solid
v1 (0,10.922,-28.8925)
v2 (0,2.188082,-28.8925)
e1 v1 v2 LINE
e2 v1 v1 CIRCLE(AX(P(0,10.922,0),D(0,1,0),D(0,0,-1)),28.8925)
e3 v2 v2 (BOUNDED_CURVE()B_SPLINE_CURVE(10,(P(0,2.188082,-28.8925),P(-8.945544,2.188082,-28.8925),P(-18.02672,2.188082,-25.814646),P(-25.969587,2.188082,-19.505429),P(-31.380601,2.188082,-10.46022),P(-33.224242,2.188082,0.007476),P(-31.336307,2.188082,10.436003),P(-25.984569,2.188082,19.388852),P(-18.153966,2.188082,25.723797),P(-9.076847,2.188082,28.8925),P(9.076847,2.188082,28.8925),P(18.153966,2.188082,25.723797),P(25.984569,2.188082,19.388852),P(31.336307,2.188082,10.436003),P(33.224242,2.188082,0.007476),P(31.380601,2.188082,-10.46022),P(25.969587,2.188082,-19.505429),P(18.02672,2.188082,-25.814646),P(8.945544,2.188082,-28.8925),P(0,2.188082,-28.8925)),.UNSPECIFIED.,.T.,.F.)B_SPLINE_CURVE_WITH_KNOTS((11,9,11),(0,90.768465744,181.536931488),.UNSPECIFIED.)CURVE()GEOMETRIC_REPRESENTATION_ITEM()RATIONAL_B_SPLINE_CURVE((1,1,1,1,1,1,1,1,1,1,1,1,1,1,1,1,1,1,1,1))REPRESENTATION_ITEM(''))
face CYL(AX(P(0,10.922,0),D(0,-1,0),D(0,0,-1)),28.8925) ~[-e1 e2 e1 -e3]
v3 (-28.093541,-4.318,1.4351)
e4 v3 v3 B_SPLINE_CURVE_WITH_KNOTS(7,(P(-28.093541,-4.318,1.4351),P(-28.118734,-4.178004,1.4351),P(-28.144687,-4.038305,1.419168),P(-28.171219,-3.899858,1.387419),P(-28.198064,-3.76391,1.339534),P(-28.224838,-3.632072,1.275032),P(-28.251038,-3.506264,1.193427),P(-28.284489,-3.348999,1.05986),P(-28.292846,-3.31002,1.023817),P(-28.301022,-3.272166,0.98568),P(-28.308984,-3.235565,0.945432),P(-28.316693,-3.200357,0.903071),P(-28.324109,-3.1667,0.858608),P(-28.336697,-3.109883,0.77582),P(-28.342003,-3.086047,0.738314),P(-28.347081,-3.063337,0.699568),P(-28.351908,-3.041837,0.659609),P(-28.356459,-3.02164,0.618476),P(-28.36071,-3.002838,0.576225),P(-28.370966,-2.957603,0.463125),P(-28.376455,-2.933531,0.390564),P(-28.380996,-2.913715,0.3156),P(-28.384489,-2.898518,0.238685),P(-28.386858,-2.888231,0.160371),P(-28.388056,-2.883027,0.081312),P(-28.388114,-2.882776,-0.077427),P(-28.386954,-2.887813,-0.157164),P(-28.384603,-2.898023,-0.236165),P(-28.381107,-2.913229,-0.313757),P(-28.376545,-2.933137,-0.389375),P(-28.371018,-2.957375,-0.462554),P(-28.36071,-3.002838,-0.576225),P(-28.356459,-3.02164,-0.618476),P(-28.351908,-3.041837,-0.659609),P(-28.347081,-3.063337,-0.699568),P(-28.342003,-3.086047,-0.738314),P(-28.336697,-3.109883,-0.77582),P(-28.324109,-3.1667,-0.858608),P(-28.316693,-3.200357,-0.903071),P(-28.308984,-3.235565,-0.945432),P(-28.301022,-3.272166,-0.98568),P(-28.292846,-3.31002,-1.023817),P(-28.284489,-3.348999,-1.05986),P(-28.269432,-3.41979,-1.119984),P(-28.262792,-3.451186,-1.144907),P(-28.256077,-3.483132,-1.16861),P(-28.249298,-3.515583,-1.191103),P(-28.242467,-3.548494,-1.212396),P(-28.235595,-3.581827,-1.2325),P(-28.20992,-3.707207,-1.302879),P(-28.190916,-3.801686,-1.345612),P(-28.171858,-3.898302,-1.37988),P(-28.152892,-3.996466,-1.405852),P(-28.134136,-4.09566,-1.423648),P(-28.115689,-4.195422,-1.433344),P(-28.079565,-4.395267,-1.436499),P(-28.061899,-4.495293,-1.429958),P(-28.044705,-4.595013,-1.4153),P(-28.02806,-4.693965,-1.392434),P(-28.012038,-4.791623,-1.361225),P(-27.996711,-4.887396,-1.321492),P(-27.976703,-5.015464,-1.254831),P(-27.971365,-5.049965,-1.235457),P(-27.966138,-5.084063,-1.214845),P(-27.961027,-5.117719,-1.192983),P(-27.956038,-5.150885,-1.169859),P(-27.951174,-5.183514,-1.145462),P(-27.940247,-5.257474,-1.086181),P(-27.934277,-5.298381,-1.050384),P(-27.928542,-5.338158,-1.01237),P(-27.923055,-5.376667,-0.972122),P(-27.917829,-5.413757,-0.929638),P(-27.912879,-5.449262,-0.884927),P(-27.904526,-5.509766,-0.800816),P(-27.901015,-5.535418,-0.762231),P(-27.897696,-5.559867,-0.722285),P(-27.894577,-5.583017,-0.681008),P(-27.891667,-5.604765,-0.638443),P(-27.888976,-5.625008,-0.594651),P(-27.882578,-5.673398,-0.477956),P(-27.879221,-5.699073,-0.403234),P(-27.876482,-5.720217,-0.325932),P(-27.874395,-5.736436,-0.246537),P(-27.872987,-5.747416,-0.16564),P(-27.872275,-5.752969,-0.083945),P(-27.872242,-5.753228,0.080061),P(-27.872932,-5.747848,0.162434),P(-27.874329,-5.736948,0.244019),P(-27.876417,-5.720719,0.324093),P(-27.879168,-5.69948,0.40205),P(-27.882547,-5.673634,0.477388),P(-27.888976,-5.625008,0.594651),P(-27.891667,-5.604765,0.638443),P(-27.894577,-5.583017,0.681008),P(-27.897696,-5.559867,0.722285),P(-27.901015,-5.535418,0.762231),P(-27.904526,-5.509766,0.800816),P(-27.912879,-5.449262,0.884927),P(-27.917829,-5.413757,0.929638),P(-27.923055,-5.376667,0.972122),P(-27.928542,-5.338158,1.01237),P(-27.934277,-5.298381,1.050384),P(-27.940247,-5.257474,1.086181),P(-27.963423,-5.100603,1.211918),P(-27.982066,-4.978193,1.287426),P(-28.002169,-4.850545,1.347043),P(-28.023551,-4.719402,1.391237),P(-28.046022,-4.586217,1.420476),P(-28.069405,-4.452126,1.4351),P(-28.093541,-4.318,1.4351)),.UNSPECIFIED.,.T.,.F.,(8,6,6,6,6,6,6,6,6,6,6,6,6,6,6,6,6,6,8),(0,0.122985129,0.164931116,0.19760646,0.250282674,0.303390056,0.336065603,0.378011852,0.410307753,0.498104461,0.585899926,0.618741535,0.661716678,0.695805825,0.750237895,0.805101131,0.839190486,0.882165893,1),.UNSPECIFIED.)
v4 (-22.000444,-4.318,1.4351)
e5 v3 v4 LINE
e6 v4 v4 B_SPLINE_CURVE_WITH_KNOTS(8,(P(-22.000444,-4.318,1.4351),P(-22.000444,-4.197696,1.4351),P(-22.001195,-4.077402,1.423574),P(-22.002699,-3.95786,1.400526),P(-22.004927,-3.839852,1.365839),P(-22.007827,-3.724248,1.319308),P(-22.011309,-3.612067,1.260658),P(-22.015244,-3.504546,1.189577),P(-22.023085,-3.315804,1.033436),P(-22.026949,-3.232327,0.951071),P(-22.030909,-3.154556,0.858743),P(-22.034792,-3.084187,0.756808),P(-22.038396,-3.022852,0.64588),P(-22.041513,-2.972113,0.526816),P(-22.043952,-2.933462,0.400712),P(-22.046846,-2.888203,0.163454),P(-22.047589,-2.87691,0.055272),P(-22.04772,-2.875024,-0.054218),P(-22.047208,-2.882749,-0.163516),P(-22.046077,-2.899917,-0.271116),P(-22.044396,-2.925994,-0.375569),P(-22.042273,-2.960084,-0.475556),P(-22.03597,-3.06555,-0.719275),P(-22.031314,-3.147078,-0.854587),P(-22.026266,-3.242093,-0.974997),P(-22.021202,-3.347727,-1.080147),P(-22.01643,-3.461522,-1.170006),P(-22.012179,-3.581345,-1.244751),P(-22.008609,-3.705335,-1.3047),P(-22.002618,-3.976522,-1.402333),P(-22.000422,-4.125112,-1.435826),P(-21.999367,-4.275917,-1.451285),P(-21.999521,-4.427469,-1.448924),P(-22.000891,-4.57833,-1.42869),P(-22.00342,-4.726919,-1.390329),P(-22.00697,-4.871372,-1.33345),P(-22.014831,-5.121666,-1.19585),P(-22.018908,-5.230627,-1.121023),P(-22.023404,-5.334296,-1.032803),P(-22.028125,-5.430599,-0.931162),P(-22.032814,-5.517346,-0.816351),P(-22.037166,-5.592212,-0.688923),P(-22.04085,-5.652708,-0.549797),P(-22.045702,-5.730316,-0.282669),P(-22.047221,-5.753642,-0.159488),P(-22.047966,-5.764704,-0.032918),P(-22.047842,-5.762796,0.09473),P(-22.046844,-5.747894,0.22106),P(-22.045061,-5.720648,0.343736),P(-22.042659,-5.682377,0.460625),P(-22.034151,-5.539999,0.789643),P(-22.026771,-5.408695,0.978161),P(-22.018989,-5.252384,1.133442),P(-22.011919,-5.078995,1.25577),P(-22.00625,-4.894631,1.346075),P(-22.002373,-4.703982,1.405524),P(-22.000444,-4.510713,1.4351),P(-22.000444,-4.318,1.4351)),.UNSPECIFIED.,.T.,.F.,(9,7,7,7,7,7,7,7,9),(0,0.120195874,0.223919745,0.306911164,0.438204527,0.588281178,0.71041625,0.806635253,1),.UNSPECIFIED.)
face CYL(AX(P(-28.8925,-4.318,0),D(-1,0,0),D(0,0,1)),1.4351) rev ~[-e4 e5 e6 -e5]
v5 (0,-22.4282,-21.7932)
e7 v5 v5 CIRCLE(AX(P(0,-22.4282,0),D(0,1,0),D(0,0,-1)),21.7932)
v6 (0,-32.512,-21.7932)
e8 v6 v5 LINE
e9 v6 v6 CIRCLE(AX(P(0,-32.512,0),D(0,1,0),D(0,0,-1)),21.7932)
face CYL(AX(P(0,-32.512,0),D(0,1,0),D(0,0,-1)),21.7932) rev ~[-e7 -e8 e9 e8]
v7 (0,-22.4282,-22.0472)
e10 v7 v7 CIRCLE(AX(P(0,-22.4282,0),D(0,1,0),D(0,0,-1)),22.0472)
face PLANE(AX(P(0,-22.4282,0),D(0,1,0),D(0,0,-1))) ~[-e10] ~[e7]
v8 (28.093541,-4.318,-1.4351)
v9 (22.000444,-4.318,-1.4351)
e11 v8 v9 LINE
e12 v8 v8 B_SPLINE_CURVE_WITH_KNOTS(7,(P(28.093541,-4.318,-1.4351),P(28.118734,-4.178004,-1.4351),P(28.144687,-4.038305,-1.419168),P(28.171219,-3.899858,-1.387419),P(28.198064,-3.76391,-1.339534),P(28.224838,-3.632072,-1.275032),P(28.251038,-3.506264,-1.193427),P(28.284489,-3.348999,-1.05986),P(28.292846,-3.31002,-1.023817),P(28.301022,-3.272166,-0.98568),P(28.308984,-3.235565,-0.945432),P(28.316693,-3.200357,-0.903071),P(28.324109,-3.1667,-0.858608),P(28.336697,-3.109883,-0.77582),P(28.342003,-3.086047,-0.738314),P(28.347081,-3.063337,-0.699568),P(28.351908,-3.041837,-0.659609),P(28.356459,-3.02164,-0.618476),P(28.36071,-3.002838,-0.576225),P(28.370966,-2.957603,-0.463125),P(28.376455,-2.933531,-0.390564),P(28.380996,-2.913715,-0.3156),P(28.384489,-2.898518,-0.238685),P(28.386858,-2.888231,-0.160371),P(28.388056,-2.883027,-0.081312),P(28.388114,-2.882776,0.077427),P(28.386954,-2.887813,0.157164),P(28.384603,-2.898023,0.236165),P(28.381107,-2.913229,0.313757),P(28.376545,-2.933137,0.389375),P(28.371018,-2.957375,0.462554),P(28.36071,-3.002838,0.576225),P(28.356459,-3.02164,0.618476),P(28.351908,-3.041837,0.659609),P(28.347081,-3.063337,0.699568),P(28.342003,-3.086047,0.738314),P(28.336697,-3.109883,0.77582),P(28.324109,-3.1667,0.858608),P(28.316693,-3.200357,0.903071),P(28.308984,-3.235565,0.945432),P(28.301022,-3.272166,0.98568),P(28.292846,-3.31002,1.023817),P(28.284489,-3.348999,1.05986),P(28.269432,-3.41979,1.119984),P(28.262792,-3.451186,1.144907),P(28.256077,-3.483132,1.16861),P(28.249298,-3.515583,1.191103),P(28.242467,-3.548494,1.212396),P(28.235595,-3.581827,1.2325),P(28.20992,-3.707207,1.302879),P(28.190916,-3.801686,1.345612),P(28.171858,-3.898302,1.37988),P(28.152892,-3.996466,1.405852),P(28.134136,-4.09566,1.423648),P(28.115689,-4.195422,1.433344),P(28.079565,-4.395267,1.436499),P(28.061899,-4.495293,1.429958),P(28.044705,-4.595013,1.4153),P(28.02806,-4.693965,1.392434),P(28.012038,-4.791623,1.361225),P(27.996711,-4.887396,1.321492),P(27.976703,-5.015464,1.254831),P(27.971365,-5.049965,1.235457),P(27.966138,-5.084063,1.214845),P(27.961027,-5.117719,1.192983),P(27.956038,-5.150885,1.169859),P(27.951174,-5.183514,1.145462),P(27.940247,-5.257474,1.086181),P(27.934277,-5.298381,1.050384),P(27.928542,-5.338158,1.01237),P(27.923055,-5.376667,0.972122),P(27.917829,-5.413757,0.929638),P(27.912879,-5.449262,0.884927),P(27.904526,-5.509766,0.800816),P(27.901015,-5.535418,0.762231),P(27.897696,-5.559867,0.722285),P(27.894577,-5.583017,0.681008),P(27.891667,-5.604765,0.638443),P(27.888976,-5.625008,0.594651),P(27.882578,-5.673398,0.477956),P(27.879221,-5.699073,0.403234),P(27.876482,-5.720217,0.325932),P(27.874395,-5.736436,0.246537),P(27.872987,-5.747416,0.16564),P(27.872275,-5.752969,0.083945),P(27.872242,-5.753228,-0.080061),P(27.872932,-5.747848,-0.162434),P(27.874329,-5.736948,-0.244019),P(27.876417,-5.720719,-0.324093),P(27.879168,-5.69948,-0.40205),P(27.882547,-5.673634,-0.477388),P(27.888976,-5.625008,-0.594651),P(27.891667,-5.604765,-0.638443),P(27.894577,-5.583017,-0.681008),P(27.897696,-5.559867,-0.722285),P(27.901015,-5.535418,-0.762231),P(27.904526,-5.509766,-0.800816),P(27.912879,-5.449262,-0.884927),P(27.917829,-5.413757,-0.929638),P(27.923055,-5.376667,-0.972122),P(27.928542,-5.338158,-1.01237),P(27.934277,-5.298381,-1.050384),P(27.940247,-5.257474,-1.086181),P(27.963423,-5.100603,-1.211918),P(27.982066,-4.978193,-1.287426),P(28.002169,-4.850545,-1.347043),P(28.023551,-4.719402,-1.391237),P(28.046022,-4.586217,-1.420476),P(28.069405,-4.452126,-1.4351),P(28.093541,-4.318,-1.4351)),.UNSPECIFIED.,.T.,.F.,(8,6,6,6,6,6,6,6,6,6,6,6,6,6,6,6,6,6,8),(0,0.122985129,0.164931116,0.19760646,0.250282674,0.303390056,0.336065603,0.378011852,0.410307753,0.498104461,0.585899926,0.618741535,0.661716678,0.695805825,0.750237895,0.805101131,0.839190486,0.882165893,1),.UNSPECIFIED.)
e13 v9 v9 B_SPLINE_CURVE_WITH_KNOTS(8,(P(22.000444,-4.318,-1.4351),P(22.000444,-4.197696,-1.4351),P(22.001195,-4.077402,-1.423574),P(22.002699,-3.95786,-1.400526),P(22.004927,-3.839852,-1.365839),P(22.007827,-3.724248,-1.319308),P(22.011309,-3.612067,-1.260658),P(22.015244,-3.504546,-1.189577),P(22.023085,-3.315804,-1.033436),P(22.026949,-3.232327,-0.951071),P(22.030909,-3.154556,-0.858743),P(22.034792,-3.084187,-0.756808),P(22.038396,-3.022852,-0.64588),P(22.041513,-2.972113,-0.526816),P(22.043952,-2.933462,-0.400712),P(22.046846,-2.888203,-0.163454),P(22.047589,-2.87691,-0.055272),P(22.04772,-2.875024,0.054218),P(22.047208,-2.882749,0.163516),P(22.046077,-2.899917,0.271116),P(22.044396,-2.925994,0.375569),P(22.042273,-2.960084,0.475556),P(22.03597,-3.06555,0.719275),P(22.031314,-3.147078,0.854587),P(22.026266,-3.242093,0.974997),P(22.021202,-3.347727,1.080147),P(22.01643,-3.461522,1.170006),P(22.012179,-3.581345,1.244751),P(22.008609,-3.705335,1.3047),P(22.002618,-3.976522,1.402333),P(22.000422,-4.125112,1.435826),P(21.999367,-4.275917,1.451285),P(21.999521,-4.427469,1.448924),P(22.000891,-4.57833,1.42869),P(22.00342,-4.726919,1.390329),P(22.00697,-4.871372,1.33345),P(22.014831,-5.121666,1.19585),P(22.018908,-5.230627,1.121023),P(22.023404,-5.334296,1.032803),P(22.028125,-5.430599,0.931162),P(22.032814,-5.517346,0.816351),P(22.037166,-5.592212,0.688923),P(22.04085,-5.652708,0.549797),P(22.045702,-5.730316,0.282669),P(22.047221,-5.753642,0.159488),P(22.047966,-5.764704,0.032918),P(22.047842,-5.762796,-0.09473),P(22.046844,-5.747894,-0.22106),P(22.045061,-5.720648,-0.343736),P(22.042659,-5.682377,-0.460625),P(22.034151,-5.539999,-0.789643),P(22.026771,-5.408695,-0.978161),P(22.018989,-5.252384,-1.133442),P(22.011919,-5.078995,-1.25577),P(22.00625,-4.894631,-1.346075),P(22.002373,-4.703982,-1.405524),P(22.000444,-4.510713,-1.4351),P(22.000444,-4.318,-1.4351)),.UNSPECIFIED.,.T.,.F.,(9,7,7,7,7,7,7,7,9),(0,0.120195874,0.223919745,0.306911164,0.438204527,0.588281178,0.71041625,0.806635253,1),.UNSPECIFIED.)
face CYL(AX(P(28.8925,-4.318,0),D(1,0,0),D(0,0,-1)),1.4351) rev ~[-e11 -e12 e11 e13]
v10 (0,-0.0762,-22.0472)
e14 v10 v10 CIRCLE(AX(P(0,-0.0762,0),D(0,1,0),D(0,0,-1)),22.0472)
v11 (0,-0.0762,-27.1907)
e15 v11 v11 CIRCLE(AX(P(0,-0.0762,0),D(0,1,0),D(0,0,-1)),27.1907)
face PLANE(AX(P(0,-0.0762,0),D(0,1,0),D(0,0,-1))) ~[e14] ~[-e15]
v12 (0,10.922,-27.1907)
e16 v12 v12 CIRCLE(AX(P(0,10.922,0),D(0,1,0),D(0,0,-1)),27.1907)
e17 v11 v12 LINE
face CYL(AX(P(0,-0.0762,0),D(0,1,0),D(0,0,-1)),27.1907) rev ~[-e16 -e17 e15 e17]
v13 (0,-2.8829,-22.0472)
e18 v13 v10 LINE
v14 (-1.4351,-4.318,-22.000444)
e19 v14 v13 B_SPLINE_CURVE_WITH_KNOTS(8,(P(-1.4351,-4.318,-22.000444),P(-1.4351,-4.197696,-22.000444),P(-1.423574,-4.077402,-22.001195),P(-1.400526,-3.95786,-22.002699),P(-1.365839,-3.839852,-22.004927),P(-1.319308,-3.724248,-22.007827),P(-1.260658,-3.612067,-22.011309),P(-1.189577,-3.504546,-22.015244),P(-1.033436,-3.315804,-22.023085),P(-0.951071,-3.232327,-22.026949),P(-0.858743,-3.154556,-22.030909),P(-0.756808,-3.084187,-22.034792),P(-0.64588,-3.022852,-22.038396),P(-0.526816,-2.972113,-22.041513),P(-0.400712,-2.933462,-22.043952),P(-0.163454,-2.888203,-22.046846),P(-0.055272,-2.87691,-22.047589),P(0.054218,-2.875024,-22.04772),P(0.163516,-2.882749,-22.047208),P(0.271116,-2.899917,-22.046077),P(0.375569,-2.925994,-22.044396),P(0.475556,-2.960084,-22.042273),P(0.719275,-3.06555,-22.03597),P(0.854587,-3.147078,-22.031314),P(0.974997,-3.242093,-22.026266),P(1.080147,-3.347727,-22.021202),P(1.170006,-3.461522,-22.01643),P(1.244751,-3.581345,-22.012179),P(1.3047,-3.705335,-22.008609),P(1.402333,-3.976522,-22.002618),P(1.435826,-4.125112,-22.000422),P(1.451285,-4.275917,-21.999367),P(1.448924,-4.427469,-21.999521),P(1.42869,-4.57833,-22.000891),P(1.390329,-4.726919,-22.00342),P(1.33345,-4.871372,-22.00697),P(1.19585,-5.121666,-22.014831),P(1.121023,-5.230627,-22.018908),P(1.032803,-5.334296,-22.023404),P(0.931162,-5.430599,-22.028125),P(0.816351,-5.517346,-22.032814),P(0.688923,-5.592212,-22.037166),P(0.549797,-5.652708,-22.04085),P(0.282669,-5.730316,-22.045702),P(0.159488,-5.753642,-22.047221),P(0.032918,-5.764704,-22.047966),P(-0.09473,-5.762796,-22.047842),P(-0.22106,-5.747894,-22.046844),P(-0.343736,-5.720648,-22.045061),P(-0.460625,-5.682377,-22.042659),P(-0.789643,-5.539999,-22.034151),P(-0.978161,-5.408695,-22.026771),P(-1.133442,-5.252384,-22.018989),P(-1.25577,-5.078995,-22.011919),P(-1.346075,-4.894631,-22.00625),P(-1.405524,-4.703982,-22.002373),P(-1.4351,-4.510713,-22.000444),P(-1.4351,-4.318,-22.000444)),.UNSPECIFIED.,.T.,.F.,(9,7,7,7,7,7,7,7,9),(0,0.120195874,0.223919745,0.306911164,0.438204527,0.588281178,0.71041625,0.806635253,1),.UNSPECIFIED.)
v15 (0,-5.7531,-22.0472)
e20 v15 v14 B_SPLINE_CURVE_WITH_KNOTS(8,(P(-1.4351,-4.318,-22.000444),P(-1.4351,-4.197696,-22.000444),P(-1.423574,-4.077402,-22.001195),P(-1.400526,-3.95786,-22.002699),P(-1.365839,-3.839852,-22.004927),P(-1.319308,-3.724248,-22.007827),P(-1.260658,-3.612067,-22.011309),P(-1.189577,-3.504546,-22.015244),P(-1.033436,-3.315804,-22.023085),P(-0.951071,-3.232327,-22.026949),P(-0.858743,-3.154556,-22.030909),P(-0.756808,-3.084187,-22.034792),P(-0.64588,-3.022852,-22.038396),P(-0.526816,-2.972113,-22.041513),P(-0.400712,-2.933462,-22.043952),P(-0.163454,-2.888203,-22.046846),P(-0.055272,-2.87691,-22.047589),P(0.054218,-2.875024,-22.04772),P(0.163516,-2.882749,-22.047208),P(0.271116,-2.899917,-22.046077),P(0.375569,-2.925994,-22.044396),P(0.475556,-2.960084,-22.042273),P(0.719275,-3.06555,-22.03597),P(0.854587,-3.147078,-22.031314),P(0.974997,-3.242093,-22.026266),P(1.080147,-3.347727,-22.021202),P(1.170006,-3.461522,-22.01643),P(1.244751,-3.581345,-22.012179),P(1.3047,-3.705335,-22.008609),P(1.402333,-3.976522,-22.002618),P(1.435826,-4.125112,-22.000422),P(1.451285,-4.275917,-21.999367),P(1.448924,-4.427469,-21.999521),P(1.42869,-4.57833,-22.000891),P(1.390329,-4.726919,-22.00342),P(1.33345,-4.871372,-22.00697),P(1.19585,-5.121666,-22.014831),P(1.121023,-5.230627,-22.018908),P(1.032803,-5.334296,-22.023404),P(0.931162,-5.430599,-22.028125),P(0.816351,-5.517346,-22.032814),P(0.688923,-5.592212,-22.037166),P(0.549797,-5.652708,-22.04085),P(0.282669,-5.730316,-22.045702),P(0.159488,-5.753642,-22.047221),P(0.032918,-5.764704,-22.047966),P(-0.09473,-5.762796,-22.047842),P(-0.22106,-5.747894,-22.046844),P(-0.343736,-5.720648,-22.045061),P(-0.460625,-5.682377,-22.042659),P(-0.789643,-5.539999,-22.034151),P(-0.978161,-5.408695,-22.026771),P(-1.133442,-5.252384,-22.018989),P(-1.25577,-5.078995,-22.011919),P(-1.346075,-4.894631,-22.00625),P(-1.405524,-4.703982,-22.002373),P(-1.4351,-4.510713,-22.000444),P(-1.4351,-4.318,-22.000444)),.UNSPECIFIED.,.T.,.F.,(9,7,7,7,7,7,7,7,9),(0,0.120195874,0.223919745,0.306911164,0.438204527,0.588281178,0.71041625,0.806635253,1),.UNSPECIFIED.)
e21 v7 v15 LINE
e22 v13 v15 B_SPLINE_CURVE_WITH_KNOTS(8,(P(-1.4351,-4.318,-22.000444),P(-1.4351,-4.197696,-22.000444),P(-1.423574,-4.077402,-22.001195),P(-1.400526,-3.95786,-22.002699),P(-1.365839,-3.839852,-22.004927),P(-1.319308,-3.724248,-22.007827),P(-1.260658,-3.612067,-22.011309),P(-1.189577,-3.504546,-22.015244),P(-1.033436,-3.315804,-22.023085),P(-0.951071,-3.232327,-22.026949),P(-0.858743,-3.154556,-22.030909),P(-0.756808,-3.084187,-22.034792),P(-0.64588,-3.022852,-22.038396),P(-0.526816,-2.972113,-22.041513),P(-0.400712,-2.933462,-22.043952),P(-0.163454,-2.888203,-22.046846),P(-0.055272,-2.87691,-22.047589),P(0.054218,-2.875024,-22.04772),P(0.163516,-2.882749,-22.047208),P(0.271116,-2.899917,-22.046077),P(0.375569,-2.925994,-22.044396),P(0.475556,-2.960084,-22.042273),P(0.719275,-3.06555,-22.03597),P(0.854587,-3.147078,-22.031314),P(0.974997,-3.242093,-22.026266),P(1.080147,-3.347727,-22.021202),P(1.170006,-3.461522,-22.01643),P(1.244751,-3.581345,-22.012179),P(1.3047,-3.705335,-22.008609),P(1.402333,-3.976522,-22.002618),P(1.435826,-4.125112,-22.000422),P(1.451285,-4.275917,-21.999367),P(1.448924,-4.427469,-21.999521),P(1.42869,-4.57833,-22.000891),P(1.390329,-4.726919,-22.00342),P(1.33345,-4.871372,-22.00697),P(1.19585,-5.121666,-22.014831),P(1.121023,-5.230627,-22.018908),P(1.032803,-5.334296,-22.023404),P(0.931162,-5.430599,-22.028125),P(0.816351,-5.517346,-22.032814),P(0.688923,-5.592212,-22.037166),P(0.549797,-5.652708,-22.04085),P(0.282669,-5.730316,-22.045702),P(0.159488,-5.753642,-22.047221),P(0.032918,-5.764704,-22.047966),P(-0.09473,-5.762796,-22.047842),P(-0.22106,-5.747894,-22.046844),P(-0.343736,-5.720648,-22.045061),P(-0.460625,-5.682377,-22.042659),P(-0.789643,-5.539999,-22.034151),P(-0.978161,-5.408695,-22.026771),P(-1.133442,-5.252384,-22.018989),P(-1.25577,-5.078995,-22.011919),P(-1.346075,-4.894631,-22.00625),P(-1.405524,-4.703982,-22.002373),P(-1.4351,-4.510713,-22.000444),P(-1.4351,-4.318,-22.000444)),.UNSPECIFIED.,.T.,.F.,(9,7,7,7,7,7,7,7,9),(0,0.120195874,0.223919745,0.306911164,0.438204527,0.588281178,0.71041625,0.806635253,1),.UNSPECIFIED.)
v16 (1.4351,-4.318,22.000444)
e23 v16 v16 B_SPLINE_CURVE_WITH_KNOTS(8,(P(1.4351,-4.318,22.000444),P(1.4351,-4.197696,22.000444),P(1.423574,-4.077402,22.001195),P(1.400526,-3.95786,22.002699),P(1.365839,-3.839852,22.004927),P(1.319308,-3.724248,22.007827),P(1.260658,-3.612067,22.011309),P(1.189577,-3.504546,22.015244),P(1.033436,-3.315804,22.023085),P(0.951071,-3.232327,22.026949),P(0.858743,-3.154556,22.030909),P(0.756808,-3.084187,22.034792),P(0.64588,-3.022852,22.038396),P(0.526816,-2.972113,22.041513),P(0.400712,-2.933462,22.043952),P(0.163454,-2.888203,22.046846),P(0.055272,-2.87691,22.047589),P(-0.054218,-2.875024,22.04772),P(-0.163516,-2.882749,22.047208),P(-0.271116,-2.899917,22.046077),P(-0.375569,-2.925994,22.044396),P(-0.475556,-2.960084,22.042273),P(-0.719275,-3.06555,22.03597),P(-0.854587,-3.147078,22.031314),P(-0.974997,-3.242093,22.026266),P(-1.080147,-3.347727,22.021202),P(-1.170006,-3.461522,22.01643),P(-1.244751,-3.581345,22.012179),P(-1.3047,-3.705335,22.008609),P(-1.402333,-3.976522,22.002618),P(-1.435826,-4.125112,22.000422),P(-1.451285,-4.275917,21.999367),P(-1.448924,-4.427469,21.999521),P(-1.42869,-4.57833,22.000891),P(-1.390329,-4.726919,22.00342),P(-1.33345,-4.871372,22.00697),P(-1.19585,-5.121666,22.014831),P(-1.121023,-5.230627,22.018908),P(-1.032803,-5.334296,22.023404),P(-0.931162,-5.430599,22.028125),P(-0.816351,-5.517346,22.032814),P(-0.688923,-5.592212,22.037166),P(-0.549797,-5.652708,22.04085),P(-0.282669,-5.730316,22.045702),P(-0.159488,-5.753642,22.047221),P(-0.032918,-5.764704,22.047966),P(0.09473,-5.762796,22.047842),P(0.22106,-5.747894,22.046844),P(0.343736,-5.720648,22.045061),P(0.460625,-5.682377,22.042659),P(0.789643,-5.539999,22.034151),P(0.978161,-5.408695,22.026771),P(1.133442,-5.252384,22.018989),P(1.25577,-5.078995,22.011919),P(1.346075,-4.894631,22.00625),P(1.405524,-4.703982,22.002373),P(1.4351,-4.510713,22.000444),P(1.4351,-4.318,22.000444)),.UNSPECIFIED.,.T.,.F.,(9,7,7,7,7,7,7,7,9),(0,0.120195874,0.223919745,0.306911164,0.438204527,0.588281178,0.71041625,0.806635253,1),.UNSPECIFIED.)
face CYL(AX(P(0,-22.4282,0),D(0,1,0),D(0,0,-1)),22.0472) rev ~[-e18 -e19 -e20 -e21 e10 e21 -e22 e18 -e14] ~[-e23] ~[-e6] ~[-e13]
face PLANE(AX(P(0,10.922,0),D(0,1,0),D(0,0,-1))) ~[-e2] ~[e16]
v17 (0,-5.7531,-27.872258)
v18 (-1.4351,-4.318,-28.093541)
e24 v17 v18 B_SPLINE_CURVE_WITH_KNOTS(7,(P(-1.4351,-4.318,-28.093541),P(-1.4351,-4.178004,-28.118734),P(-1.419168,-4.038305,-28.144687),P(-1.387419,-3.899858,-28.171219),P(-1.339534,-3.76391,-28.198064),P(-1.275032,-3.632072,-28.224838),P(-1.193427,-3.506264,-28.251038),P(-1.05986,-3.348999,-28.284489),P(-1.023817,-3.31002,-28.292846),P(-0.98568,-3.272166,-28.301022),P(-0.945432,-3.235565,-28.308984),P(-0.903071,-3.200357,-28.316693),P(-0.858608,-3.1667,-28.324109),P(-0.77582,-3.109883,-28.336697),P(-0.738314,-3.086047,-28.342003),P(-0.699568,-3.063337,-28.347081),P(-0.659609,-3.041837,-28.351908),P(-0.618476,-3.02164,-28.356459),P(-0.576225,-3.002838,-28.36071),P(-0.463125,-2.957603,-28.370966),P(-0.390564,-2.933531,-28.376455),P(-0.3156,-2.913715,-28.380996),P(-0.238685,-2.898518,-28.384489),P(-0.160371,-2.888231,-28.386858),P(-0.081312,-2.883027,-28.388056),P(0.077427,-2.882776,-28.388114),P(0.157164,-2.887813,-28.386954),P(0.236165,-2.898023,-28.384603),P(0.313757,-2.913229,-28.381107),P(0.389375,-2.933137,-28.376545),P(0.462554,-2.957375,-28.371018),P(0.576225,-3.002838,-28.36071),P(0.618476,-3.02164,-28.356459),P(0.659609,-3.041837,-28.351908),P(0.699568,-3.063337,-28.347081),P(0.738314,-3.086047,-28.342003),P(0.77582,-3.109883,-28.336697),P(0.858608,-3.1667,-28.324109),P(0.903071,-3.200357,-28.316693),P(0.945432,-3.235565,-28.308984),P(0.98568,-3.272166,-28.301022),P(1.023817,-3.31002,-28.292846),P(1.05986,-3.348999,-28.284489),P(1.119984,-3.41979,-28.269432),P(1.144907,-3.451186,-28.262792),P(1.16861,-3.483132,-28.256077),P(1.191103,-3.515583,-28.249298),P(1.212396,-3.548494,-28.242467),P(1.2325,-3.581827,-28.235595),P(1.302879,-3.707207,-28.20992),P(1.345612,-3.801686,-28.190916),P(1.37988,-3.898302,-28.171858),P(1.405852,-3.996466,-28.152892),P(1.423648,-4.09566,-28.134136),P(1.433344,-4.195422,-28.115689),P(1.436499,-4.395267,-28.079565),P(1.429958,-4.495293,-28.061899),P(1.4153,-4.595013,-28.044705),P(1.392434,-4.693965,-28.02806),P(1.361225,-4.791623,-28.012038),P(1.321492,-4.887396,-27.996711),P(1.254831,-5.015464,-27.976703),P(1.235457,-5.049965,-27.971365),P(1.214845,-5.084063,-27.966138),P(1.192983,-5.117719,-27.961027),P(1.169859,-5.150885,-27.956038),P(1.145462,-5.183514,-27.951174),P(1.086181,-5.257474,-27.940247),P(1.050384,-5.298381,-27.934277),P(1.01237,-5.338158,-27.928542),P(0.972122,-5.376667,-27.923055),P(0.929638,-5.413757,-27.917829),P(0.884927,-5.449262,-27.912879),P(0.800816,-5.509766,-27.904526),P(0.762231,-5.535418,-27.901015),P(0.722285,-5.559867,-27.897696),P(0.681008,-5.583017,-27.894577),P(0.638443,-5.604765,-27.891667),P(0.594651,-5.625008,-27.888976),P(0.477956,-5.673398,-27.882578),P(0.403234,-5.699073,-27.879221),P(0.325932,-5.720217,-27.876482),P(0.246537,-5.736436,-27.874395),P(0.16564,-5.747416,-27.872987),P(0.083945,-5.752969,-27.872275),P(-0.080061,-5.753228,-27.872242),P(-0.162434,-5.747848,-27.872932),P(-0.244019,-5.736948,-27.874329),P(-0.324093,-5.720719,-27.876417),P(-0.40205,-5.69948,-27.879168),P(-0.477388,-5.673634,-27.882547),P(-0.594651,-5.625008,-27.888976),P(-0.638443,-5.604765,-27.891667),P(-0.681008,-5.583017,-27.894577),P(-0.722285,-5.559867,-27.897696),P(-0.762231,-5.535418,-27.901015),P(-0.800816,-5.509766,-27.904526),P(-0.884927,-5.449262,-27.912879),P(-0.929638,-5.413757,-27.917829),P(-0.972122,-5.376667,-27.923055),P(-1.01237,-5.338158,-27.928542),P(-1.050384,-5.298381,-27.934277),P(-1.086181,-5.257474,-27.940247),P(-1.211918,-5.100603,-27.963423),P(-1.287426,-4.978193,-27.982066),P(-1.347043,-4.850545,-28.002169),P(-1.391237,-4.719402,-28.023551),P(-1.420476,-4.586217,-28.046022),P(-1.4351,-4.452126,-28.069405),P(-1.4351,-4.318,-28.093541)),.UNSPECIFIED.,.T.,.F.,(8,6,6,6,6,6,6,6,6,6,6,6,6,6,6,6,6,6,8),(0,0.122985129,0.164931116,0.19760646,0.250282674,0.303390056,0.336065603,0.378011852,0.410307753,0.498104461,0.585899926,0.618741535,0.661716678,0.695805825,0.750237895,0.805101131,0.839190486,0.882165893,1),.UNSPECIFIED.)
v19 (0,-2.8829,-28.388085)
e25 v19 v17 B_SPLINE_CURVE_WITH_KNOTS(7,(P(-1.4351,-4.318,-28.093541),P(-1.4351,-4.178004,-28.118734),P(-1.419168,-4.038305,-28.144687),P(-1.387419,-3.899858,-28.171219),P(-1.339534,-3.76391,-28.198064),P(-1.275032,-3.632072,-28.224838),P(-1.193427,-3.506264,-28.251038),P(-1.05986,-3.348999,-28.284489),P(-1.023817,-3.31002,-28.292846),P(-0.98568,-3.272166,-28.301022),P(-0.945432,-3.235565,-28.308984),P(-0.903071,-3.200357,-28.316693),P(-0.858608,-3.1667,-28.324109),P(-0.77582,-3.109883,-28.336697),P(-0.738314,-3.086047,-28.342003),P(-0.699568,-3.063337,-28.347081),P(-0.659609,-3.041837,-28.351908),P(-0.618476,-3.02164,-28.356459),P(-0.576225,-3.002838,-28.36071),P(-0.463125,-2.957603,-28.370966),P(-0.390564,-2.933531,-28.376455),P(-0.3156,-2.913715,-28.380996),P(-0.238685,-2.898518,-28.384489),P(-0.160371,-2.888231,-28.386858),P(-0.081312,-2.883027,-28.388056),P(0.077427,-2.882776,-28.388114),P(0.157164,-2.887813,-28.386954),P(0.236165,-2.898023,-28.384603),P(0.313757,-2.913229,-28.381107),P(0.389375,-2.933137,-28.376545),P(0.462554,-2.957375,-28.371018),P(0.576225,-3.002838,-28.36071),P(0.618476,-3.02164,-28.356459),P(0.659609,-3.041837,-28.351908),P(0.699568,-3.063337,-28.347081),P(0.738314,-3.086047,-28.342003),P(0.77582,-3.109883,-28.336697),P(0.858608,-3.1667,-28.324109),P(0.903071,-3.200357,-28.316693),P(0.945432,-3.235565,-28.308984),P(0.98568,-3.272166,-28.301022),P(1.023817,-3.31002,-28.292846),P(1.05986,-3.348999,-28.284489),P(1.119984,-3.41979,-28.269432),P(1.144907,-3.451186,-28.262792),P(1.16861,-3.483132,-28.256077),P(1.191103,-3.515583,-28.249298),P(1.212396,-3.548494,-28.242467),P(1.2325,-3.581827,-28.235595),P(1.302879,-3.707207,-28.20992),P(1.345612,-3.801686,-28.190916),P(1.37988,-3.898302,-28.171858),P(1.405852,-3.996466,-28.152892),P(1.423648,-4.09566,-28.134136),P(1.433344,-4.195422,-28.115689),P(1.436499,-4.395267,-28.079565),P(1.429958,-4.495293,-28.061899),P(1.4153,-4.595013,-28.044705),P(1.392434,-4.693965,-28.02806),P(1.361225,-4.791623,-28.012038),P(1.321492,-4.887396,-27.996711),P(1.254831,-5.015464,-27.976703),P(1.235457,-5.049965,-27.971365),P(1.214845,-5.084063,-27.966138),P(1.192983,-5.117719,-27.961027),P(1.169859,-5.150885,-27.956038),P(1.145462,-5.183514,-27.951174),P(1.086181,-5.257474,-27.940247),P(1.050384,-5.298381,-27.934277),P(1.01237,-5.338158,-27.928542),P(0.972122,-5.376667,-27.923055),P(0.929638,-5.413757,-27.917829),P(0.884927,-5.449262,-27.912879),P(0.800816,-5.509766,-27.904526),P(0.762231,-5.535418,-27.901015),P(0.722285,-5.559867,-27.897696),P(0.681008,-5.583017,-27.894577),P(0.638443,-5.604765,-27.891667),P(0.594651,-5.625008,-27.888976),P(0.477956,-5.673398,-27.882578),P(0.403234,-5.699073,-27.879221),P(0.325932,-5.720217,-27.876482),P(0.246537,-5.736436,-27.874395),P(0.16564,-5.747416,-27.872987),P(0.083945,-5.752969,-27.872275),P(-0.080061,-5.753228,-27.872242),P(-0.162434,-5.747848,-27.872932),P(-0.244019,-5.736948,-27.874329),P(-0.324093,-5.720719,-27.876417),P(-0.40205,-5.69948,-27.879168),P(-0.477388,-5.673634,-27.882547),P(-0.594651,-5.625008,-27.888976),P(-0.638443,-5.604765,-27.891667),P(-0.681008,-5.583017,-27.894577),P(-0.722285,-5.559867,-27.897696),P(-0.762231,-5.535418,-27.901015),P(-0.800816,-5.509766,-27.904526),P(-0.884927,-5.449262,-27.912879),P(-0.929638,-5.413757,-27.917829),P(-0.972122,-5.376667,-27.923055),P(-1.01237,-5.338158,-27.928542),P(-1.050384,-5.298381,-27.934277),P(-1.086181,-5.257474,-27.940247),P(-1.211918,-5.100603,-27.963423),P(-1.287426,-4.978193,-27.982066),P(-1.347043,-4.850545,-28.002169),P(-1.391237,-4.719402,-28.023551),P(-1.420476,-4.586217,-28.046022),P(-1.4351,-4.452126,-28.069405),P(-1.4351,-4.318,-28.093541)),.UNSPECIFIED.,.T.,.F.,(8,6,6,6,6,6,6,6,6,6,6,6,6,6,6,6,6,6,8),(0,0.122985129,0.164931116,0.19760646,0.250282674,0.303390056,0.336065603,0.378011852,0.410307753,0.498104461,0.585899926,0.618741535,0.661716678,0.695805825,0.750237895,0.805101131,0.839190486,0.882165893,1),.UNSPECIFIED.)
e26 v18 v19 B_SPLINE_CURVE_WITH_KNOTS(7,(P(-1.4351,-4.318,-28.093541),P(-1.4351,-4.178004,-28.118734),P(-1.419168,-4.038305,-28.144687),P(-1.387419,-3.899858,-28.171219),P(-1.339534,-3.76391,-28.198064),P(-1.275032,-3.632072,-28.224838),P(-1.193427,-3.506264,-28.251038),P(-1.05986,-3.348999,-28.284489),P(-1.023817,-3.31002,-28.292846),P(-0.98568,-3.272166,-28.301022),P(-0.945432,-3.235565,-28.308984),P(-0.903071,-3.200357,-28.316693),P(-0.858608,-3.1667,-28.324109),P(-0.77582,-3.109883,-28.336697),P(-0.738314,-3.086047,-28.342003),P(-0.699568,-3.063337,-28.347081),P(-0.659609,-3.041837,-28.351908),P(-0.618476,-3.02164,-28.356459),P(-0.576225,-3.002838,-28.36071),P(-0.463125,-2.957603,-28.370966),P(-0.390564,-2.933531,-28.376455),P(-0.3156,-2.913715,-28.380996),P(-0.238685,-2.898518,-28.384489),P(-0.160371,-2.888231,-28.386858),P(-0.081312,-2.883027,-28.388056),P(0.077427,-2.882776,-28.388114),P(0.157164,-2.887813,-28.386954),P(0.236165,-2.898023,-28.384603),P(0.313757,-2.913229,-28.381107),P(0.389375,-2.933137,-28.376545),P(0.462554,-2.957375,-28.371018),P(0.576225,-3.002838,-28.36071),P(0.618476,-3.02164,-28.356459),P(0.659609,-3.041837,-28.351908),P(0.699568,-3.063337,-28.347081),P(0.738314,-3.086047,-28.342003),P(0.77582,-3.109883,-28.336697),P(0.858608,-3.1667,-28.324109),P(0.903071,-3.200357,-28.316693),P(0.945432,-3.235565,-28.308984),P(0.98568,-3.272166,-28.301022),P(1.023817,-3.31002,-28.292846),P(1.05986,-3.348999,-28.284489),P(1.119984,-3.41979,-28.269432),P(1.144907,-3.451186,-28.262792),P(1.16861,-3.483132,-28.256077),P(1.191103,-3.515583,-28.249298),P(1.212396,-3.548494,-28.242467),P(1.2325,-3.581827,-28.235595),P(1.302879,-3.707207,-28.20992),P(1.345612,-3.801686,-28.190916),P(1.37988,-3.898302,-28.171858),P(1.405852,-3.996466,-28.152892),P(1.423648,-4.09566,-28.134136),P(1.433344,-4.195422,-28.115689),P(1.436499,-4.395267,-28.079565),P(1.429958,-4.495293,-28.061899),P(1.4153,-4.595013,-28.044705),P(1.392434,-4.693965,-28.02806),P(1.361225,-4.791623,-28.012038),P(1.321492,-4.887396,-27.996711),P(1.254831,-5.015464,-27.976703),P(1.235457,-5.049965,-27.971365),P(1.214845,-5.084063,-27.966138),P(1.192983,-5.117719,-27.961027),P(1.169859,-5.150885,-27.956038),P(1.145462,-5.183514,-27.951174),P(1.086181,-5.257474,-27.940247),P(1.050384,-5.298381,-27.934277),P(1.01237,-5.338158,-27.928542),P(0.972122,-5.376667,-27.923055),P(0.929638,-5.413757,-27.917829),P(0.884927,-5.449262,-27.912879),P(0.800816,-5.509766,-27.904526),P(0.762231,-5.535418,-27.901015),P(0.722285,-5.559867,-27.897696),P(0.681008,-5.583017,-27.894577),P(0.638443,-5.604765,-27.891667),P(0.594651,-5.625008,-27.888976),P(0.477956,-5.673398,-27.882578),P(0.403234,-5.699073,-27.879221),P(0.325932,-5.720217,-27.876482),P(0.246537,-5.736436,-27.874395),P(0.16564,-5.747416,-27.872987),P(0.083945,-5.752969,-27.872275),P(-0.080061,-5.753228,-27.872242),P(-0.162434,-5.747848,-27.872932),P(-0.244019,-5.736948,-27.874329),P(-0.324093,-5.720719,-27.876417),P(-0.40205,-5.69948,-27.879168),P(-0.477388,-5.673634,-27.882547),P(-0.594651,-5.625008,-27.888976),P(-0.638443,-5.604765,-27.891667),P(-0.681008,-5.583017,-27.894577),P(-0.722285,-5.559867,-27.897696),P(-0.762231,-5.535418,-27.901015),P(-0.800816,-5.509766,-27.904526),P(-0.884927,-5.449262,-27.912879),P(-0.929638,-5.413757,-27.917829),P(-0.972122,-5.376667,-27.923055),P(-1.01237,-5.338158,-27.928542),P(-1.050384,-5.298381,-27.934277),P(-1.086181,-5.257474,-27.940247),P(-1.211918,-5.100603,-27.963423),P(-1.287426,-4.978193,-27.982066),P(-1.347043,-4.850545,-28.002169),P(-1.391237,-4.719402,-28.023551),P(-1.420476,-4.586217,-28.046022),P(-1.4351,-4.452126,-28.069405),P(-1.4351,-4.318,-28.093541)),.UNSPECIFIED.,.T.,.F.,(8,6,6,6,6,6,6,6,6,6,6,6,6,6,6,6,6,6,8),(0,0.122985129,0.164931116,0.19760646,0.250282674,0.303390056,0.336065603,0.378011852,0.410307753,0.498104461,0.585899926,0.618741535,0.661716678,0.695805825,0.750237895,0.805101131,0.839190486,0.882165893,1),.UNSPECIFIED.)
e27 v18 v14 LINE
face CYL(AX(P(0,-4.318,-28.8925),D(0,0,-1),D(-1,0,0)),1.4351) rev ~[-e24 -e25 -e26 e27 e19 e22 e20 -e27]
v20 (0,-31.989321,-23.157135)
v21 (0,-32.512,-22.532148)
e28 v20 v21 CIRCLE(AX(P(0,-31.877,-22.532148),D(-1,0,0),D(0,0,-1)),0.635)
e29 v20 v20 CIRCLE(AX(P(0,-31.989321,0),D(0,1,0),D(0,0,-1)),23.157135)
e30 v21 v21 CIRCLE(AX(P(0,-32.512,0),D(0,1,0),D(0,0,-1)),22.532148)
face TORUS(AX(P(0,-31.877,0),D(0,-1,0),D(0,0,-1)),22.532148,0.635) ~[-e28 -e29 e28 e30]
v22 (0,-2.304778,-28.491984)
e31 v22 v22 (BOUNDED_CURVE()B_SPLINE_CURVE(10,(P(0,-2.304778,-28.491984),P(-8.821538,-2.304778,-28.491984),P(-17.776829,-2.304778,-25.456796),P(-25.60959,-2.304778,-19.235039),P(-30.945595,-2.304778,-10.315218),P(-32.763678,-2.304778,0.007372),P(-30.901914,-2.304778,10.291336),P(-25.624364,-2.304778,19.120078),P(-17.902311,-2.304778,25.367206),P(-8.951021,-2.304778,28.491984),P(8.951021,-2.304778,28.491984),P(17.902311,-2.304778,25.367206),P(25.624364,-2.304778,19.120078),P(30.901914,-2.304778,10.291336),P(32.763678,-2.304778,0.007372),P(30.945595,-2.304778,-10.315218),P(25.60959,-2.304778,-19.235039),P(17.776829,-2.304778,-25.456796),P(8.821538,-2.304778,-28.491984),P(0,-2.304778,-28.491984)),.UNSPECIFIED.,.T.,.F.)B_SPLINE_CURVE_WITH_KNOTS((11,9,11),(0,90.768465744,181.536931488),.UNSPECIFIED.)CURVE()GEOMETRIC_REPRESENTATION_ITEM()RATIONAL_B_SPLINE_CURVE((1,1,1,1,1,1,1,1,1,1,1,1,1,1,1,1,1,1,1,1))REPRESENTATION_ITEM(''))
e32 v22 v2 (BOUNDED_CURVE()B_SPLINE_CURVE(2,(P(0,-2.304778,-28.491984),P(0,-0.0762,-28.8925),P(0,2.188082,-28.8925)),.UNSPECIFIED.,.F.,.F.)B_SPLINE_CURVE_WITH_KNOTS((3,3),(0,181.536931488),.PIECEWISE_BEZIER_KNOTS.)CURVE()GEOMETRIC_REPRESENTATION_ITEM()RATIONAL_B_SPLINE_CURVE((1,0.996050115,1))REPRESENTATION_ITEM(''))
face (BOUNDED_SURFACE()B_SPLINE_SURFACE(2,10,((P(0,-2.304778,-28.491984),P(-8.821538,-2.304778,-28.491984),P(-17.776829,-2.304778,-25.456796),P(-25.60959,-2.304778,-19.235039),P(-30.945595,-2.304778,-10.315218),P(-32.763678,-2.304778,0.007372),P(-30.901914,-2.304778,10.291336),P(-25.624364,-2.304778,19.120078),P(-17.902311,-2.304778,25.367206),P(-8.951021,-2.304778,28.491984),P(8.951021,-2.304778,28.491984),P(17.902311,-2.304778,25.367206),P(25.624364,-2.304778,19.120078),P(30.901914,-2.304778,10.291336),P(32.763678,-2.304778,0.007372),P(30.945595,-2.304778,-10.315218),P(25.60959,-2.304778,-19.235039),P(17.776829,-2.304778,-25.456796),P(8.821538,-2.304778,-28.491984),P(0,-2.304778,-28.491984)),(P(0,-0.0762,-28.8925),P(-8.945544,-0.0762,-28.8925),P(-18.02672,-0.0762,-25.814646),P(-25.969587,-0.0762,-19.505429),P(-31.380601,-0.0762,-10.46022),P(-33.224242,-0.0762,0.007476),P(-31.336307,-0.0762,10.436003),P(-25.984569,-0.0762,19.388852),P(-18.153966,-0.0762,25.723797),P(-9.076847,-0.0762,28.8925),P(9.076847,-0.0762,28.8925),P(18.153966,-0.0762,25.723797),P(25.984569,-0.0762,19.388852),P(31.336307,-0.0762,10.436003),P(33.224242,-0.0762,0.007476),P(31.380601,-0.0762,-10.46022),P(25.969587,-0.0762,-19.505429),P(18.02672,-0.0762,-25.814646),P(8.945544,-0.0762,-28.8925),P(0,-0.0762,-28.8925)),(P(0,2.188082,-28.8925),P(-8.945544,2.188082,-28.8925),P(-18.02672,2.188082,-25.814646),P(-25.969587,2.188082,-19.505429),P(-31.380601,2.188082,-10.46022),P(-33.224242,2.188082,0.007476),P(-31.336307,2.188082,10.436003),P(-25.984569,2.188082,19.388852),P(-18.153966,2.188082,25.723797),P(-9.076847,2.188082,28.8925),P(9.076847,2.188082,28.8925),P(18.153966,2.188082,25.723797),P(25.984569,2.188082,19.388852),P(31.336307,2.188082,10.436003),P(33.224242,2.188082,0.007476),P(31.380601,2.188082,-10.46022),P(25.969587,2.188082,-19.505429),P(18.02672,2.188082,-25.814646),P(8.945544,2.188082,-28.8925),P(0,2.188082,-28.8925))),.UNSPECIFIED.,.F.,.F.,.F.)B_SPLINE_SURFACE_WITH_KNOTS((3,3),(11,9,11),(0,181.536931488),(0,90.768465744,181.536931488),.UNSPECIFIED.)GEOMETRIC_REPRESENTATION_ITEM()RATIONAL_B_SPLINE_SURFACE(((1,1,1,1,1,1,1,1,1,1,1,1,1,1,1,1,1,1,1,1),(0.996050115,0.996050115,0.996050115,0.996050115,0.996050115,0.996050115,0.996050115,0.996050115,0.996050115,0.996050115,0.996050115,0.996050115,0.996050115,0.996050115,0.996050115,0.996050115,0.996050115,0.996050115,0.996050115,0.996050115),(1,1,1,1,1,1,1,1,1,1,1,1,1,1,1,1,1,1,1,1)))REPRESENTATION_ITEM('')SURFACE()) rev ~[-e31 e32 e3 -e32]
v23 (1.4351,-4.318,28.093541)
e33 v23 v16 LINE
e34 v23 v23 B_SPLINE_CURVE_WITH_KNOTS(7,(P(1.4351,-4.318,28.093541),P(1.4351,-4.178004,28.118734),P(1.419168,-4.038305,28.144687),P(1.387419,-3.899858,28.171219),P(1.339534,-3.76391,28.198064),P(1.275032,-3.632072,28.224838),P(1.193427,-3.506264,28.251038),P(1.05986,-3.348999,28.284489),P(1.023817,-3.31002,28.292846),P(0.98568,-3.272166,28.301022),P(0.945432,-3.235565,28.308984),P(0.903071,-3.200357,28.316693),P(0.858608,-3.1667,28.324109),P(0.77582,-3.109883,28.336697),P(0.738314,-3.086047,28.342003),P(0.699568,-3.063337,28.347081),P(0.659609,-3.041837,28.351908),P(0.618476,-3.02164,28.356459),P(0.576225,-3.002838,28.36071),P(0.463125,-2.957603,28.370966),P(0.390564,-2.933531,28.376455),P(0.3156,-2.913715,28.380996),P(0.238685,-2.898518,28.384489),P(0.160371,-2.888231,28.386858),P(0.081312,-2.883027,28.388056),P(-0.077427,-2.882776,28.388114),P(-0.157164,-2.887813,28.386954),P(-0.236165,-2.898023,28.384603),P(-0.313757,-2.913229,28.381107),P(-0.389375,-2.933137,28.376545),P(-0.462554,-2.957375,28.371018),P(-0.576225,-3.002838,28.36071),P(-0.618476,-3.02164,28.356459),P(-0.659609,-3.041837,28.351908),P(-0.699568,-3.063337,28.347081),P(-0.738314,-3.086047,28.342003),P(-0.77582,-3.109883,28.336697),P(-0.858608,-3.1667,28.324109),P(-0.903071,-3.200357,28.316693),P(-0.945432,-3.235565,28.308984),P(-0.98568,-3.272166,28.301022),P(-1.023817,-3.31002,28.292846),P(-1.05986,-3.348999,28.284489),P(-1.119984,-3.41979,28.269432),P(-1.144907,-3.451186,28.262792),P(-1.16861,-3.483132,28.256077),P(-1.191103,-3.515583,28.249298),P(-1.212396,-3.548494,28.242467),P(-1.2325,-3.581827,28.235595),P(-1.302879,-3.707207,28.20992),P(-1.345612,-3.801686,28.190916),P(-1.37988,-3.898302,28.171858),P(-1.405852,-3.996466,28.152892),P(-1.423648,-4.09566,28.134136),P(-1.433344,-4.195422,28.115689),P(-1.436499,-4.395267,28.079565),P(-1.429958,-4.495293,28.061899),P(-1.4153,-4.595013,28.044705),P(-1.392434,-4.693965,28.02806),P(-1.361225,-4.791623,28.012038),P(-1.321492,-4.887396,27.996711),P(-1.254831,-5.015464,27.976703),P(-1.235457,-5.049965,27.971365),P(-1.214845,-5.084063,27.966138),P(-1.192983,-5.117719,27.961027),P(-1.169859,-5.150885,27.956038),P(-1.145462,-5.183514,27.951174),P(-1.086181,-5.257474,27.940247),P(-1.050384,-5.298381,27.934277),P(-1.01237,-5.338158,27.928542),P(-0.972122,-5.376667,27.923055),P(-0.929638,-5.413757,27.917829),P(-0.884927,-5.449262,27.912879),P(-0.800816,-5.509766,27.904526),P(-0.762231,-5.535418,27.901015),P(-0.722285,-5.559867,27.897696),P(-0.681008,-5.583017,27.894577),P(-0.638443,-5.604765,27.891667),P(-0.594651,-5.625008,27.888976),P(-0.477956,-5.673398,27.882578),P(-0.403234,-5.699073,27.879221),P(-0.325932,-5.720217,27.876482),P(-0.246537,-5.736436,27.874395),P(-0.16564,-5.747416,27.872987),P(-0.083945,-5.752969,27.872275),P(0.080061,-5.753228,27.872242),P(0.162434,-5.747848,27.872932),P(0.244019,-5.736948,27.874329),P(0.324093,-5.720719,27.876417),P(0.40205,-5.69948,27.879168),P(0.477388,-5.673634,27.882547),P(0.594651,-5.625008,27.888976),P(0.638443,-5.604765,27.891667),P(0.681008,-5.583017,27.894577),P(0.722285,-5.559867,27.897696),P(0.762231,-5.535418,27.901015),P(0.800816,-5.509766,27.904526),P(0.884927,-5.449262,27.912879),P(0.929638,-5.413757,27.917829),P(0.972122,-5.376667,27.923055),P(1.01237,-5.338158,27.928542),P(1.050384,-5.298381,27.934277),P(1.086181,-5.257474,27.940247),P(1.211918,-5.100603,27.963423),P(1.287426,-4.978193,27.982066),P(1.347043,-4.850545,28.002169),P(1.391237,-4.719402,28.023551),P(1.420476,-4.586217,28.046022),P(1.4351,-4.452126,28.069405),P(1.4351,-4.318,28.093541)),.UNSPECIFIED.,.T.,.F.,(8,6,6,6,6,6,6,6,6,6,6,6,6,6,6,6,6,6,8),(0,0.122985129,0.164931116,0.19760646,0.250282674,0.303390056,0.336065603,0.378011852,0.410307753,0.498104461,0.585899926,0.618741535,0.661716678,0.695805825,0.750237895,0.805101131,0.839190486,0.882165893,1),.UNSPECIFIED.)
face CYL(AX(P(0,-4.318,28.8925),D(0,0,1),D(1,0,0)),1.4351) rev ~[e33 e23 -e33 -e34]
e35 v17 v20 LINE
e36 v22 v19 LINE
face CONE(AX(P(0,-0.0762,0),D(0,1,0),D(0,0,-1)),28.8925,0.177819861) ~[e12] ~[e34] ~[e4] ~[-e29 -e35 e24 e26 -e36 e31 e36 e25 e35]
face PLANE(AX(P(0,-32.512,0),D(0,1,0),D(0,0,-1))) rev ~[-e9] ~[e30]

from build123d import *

# Parameters (mm, degrees)
F_6_40_TAPPED_HOLE1_REACH  = 74.325
F_6_40_TAPPED_HOLE1_BORE_R = 1.4351
CIRPATTERN1_COUNT          = 4
FILLET1_R                  = 0.635
FILLET2_R                  = 25.4


with BuildPart() as part:
    # Sketch2 → Revolve1 (revolve)
    with BuildSketch(Plane.XY, mode=Mode.PRIVATE) as revolve1_sk:
        Polygon((22.0472, -22.4282), (22.0472, -0.0762), (27.1907, -0.0762), (27.1907, 10.922), (28.8925, 10.922), (28.8925, -0.0762), (23.0632, -32.512), (21.7932, -32.512), (21.7932, -22.4282), align=None)
    revolve(revolve1_sk.sketch.rotate(Axis((0, -34.5451, 0), (0, 1, 0)), 90), axis=Axis((0, -34.5451, 0), (0, 1, 0)))

    # #6-40 Tapped Hole1 bore → #6-40 Tapped Hole1 (cut, up to next)
    with BuildSketch(Plane.XY.offset(28.8925), mode=Mode.PRIVATE) as f_6_40_tapped_hole1_sk1:
        with Locations((0, -4.318)):
            Circle(F_6_40_TAPPED_HOLE1_BORE_R)
    f_6_40_tapped_hole1_tool1 = extrude(f_6_40_tapped_hole1_sk1.sketch, amount=-F_6_40_TAPPED_HOLE1_REACH, mode=Mode.PRIVATE) & part.part
    f_6_40_tapped_hole1 = f_6_40_tapped_hole1_tool1.solids().sort_by_distance((0, -4.318, 28.8925))[0]
    add(f_6_40_tapped_hole1, mode=Mode.SUBTRACT)

    # CirPattern1: #6-40 Tapped Hole1 ×4 about axis
    cirpattern1_axis = Axis((0, -34.5451, 0), (0, -1, 0))
    for i in range(1, CIRPATTERN1_COUNT):
        add(f_6_40_tapped_hole1.rotate(cirpattern1_axis, i * 360 / CIRPATTERN1_COUNT), mode=Mode.SUBTRACT)

    # Fillet1
    fillet1_edges = [part.edges().sort_by_distance(p)[0] for p in [
        (0, -32.512, 23.0632),
    ]]
    fillet(fillet1_edges, radius=FILLET1_R)

    # Fillet2
    fillet2_edges = [part.edges().sort_by_distance(p)[0] for p in [
        (0, -0.0762, 28.8925),
    ]]
    fillet(fillet2_edges, radius=FILLET2_R)


solid = part.part
